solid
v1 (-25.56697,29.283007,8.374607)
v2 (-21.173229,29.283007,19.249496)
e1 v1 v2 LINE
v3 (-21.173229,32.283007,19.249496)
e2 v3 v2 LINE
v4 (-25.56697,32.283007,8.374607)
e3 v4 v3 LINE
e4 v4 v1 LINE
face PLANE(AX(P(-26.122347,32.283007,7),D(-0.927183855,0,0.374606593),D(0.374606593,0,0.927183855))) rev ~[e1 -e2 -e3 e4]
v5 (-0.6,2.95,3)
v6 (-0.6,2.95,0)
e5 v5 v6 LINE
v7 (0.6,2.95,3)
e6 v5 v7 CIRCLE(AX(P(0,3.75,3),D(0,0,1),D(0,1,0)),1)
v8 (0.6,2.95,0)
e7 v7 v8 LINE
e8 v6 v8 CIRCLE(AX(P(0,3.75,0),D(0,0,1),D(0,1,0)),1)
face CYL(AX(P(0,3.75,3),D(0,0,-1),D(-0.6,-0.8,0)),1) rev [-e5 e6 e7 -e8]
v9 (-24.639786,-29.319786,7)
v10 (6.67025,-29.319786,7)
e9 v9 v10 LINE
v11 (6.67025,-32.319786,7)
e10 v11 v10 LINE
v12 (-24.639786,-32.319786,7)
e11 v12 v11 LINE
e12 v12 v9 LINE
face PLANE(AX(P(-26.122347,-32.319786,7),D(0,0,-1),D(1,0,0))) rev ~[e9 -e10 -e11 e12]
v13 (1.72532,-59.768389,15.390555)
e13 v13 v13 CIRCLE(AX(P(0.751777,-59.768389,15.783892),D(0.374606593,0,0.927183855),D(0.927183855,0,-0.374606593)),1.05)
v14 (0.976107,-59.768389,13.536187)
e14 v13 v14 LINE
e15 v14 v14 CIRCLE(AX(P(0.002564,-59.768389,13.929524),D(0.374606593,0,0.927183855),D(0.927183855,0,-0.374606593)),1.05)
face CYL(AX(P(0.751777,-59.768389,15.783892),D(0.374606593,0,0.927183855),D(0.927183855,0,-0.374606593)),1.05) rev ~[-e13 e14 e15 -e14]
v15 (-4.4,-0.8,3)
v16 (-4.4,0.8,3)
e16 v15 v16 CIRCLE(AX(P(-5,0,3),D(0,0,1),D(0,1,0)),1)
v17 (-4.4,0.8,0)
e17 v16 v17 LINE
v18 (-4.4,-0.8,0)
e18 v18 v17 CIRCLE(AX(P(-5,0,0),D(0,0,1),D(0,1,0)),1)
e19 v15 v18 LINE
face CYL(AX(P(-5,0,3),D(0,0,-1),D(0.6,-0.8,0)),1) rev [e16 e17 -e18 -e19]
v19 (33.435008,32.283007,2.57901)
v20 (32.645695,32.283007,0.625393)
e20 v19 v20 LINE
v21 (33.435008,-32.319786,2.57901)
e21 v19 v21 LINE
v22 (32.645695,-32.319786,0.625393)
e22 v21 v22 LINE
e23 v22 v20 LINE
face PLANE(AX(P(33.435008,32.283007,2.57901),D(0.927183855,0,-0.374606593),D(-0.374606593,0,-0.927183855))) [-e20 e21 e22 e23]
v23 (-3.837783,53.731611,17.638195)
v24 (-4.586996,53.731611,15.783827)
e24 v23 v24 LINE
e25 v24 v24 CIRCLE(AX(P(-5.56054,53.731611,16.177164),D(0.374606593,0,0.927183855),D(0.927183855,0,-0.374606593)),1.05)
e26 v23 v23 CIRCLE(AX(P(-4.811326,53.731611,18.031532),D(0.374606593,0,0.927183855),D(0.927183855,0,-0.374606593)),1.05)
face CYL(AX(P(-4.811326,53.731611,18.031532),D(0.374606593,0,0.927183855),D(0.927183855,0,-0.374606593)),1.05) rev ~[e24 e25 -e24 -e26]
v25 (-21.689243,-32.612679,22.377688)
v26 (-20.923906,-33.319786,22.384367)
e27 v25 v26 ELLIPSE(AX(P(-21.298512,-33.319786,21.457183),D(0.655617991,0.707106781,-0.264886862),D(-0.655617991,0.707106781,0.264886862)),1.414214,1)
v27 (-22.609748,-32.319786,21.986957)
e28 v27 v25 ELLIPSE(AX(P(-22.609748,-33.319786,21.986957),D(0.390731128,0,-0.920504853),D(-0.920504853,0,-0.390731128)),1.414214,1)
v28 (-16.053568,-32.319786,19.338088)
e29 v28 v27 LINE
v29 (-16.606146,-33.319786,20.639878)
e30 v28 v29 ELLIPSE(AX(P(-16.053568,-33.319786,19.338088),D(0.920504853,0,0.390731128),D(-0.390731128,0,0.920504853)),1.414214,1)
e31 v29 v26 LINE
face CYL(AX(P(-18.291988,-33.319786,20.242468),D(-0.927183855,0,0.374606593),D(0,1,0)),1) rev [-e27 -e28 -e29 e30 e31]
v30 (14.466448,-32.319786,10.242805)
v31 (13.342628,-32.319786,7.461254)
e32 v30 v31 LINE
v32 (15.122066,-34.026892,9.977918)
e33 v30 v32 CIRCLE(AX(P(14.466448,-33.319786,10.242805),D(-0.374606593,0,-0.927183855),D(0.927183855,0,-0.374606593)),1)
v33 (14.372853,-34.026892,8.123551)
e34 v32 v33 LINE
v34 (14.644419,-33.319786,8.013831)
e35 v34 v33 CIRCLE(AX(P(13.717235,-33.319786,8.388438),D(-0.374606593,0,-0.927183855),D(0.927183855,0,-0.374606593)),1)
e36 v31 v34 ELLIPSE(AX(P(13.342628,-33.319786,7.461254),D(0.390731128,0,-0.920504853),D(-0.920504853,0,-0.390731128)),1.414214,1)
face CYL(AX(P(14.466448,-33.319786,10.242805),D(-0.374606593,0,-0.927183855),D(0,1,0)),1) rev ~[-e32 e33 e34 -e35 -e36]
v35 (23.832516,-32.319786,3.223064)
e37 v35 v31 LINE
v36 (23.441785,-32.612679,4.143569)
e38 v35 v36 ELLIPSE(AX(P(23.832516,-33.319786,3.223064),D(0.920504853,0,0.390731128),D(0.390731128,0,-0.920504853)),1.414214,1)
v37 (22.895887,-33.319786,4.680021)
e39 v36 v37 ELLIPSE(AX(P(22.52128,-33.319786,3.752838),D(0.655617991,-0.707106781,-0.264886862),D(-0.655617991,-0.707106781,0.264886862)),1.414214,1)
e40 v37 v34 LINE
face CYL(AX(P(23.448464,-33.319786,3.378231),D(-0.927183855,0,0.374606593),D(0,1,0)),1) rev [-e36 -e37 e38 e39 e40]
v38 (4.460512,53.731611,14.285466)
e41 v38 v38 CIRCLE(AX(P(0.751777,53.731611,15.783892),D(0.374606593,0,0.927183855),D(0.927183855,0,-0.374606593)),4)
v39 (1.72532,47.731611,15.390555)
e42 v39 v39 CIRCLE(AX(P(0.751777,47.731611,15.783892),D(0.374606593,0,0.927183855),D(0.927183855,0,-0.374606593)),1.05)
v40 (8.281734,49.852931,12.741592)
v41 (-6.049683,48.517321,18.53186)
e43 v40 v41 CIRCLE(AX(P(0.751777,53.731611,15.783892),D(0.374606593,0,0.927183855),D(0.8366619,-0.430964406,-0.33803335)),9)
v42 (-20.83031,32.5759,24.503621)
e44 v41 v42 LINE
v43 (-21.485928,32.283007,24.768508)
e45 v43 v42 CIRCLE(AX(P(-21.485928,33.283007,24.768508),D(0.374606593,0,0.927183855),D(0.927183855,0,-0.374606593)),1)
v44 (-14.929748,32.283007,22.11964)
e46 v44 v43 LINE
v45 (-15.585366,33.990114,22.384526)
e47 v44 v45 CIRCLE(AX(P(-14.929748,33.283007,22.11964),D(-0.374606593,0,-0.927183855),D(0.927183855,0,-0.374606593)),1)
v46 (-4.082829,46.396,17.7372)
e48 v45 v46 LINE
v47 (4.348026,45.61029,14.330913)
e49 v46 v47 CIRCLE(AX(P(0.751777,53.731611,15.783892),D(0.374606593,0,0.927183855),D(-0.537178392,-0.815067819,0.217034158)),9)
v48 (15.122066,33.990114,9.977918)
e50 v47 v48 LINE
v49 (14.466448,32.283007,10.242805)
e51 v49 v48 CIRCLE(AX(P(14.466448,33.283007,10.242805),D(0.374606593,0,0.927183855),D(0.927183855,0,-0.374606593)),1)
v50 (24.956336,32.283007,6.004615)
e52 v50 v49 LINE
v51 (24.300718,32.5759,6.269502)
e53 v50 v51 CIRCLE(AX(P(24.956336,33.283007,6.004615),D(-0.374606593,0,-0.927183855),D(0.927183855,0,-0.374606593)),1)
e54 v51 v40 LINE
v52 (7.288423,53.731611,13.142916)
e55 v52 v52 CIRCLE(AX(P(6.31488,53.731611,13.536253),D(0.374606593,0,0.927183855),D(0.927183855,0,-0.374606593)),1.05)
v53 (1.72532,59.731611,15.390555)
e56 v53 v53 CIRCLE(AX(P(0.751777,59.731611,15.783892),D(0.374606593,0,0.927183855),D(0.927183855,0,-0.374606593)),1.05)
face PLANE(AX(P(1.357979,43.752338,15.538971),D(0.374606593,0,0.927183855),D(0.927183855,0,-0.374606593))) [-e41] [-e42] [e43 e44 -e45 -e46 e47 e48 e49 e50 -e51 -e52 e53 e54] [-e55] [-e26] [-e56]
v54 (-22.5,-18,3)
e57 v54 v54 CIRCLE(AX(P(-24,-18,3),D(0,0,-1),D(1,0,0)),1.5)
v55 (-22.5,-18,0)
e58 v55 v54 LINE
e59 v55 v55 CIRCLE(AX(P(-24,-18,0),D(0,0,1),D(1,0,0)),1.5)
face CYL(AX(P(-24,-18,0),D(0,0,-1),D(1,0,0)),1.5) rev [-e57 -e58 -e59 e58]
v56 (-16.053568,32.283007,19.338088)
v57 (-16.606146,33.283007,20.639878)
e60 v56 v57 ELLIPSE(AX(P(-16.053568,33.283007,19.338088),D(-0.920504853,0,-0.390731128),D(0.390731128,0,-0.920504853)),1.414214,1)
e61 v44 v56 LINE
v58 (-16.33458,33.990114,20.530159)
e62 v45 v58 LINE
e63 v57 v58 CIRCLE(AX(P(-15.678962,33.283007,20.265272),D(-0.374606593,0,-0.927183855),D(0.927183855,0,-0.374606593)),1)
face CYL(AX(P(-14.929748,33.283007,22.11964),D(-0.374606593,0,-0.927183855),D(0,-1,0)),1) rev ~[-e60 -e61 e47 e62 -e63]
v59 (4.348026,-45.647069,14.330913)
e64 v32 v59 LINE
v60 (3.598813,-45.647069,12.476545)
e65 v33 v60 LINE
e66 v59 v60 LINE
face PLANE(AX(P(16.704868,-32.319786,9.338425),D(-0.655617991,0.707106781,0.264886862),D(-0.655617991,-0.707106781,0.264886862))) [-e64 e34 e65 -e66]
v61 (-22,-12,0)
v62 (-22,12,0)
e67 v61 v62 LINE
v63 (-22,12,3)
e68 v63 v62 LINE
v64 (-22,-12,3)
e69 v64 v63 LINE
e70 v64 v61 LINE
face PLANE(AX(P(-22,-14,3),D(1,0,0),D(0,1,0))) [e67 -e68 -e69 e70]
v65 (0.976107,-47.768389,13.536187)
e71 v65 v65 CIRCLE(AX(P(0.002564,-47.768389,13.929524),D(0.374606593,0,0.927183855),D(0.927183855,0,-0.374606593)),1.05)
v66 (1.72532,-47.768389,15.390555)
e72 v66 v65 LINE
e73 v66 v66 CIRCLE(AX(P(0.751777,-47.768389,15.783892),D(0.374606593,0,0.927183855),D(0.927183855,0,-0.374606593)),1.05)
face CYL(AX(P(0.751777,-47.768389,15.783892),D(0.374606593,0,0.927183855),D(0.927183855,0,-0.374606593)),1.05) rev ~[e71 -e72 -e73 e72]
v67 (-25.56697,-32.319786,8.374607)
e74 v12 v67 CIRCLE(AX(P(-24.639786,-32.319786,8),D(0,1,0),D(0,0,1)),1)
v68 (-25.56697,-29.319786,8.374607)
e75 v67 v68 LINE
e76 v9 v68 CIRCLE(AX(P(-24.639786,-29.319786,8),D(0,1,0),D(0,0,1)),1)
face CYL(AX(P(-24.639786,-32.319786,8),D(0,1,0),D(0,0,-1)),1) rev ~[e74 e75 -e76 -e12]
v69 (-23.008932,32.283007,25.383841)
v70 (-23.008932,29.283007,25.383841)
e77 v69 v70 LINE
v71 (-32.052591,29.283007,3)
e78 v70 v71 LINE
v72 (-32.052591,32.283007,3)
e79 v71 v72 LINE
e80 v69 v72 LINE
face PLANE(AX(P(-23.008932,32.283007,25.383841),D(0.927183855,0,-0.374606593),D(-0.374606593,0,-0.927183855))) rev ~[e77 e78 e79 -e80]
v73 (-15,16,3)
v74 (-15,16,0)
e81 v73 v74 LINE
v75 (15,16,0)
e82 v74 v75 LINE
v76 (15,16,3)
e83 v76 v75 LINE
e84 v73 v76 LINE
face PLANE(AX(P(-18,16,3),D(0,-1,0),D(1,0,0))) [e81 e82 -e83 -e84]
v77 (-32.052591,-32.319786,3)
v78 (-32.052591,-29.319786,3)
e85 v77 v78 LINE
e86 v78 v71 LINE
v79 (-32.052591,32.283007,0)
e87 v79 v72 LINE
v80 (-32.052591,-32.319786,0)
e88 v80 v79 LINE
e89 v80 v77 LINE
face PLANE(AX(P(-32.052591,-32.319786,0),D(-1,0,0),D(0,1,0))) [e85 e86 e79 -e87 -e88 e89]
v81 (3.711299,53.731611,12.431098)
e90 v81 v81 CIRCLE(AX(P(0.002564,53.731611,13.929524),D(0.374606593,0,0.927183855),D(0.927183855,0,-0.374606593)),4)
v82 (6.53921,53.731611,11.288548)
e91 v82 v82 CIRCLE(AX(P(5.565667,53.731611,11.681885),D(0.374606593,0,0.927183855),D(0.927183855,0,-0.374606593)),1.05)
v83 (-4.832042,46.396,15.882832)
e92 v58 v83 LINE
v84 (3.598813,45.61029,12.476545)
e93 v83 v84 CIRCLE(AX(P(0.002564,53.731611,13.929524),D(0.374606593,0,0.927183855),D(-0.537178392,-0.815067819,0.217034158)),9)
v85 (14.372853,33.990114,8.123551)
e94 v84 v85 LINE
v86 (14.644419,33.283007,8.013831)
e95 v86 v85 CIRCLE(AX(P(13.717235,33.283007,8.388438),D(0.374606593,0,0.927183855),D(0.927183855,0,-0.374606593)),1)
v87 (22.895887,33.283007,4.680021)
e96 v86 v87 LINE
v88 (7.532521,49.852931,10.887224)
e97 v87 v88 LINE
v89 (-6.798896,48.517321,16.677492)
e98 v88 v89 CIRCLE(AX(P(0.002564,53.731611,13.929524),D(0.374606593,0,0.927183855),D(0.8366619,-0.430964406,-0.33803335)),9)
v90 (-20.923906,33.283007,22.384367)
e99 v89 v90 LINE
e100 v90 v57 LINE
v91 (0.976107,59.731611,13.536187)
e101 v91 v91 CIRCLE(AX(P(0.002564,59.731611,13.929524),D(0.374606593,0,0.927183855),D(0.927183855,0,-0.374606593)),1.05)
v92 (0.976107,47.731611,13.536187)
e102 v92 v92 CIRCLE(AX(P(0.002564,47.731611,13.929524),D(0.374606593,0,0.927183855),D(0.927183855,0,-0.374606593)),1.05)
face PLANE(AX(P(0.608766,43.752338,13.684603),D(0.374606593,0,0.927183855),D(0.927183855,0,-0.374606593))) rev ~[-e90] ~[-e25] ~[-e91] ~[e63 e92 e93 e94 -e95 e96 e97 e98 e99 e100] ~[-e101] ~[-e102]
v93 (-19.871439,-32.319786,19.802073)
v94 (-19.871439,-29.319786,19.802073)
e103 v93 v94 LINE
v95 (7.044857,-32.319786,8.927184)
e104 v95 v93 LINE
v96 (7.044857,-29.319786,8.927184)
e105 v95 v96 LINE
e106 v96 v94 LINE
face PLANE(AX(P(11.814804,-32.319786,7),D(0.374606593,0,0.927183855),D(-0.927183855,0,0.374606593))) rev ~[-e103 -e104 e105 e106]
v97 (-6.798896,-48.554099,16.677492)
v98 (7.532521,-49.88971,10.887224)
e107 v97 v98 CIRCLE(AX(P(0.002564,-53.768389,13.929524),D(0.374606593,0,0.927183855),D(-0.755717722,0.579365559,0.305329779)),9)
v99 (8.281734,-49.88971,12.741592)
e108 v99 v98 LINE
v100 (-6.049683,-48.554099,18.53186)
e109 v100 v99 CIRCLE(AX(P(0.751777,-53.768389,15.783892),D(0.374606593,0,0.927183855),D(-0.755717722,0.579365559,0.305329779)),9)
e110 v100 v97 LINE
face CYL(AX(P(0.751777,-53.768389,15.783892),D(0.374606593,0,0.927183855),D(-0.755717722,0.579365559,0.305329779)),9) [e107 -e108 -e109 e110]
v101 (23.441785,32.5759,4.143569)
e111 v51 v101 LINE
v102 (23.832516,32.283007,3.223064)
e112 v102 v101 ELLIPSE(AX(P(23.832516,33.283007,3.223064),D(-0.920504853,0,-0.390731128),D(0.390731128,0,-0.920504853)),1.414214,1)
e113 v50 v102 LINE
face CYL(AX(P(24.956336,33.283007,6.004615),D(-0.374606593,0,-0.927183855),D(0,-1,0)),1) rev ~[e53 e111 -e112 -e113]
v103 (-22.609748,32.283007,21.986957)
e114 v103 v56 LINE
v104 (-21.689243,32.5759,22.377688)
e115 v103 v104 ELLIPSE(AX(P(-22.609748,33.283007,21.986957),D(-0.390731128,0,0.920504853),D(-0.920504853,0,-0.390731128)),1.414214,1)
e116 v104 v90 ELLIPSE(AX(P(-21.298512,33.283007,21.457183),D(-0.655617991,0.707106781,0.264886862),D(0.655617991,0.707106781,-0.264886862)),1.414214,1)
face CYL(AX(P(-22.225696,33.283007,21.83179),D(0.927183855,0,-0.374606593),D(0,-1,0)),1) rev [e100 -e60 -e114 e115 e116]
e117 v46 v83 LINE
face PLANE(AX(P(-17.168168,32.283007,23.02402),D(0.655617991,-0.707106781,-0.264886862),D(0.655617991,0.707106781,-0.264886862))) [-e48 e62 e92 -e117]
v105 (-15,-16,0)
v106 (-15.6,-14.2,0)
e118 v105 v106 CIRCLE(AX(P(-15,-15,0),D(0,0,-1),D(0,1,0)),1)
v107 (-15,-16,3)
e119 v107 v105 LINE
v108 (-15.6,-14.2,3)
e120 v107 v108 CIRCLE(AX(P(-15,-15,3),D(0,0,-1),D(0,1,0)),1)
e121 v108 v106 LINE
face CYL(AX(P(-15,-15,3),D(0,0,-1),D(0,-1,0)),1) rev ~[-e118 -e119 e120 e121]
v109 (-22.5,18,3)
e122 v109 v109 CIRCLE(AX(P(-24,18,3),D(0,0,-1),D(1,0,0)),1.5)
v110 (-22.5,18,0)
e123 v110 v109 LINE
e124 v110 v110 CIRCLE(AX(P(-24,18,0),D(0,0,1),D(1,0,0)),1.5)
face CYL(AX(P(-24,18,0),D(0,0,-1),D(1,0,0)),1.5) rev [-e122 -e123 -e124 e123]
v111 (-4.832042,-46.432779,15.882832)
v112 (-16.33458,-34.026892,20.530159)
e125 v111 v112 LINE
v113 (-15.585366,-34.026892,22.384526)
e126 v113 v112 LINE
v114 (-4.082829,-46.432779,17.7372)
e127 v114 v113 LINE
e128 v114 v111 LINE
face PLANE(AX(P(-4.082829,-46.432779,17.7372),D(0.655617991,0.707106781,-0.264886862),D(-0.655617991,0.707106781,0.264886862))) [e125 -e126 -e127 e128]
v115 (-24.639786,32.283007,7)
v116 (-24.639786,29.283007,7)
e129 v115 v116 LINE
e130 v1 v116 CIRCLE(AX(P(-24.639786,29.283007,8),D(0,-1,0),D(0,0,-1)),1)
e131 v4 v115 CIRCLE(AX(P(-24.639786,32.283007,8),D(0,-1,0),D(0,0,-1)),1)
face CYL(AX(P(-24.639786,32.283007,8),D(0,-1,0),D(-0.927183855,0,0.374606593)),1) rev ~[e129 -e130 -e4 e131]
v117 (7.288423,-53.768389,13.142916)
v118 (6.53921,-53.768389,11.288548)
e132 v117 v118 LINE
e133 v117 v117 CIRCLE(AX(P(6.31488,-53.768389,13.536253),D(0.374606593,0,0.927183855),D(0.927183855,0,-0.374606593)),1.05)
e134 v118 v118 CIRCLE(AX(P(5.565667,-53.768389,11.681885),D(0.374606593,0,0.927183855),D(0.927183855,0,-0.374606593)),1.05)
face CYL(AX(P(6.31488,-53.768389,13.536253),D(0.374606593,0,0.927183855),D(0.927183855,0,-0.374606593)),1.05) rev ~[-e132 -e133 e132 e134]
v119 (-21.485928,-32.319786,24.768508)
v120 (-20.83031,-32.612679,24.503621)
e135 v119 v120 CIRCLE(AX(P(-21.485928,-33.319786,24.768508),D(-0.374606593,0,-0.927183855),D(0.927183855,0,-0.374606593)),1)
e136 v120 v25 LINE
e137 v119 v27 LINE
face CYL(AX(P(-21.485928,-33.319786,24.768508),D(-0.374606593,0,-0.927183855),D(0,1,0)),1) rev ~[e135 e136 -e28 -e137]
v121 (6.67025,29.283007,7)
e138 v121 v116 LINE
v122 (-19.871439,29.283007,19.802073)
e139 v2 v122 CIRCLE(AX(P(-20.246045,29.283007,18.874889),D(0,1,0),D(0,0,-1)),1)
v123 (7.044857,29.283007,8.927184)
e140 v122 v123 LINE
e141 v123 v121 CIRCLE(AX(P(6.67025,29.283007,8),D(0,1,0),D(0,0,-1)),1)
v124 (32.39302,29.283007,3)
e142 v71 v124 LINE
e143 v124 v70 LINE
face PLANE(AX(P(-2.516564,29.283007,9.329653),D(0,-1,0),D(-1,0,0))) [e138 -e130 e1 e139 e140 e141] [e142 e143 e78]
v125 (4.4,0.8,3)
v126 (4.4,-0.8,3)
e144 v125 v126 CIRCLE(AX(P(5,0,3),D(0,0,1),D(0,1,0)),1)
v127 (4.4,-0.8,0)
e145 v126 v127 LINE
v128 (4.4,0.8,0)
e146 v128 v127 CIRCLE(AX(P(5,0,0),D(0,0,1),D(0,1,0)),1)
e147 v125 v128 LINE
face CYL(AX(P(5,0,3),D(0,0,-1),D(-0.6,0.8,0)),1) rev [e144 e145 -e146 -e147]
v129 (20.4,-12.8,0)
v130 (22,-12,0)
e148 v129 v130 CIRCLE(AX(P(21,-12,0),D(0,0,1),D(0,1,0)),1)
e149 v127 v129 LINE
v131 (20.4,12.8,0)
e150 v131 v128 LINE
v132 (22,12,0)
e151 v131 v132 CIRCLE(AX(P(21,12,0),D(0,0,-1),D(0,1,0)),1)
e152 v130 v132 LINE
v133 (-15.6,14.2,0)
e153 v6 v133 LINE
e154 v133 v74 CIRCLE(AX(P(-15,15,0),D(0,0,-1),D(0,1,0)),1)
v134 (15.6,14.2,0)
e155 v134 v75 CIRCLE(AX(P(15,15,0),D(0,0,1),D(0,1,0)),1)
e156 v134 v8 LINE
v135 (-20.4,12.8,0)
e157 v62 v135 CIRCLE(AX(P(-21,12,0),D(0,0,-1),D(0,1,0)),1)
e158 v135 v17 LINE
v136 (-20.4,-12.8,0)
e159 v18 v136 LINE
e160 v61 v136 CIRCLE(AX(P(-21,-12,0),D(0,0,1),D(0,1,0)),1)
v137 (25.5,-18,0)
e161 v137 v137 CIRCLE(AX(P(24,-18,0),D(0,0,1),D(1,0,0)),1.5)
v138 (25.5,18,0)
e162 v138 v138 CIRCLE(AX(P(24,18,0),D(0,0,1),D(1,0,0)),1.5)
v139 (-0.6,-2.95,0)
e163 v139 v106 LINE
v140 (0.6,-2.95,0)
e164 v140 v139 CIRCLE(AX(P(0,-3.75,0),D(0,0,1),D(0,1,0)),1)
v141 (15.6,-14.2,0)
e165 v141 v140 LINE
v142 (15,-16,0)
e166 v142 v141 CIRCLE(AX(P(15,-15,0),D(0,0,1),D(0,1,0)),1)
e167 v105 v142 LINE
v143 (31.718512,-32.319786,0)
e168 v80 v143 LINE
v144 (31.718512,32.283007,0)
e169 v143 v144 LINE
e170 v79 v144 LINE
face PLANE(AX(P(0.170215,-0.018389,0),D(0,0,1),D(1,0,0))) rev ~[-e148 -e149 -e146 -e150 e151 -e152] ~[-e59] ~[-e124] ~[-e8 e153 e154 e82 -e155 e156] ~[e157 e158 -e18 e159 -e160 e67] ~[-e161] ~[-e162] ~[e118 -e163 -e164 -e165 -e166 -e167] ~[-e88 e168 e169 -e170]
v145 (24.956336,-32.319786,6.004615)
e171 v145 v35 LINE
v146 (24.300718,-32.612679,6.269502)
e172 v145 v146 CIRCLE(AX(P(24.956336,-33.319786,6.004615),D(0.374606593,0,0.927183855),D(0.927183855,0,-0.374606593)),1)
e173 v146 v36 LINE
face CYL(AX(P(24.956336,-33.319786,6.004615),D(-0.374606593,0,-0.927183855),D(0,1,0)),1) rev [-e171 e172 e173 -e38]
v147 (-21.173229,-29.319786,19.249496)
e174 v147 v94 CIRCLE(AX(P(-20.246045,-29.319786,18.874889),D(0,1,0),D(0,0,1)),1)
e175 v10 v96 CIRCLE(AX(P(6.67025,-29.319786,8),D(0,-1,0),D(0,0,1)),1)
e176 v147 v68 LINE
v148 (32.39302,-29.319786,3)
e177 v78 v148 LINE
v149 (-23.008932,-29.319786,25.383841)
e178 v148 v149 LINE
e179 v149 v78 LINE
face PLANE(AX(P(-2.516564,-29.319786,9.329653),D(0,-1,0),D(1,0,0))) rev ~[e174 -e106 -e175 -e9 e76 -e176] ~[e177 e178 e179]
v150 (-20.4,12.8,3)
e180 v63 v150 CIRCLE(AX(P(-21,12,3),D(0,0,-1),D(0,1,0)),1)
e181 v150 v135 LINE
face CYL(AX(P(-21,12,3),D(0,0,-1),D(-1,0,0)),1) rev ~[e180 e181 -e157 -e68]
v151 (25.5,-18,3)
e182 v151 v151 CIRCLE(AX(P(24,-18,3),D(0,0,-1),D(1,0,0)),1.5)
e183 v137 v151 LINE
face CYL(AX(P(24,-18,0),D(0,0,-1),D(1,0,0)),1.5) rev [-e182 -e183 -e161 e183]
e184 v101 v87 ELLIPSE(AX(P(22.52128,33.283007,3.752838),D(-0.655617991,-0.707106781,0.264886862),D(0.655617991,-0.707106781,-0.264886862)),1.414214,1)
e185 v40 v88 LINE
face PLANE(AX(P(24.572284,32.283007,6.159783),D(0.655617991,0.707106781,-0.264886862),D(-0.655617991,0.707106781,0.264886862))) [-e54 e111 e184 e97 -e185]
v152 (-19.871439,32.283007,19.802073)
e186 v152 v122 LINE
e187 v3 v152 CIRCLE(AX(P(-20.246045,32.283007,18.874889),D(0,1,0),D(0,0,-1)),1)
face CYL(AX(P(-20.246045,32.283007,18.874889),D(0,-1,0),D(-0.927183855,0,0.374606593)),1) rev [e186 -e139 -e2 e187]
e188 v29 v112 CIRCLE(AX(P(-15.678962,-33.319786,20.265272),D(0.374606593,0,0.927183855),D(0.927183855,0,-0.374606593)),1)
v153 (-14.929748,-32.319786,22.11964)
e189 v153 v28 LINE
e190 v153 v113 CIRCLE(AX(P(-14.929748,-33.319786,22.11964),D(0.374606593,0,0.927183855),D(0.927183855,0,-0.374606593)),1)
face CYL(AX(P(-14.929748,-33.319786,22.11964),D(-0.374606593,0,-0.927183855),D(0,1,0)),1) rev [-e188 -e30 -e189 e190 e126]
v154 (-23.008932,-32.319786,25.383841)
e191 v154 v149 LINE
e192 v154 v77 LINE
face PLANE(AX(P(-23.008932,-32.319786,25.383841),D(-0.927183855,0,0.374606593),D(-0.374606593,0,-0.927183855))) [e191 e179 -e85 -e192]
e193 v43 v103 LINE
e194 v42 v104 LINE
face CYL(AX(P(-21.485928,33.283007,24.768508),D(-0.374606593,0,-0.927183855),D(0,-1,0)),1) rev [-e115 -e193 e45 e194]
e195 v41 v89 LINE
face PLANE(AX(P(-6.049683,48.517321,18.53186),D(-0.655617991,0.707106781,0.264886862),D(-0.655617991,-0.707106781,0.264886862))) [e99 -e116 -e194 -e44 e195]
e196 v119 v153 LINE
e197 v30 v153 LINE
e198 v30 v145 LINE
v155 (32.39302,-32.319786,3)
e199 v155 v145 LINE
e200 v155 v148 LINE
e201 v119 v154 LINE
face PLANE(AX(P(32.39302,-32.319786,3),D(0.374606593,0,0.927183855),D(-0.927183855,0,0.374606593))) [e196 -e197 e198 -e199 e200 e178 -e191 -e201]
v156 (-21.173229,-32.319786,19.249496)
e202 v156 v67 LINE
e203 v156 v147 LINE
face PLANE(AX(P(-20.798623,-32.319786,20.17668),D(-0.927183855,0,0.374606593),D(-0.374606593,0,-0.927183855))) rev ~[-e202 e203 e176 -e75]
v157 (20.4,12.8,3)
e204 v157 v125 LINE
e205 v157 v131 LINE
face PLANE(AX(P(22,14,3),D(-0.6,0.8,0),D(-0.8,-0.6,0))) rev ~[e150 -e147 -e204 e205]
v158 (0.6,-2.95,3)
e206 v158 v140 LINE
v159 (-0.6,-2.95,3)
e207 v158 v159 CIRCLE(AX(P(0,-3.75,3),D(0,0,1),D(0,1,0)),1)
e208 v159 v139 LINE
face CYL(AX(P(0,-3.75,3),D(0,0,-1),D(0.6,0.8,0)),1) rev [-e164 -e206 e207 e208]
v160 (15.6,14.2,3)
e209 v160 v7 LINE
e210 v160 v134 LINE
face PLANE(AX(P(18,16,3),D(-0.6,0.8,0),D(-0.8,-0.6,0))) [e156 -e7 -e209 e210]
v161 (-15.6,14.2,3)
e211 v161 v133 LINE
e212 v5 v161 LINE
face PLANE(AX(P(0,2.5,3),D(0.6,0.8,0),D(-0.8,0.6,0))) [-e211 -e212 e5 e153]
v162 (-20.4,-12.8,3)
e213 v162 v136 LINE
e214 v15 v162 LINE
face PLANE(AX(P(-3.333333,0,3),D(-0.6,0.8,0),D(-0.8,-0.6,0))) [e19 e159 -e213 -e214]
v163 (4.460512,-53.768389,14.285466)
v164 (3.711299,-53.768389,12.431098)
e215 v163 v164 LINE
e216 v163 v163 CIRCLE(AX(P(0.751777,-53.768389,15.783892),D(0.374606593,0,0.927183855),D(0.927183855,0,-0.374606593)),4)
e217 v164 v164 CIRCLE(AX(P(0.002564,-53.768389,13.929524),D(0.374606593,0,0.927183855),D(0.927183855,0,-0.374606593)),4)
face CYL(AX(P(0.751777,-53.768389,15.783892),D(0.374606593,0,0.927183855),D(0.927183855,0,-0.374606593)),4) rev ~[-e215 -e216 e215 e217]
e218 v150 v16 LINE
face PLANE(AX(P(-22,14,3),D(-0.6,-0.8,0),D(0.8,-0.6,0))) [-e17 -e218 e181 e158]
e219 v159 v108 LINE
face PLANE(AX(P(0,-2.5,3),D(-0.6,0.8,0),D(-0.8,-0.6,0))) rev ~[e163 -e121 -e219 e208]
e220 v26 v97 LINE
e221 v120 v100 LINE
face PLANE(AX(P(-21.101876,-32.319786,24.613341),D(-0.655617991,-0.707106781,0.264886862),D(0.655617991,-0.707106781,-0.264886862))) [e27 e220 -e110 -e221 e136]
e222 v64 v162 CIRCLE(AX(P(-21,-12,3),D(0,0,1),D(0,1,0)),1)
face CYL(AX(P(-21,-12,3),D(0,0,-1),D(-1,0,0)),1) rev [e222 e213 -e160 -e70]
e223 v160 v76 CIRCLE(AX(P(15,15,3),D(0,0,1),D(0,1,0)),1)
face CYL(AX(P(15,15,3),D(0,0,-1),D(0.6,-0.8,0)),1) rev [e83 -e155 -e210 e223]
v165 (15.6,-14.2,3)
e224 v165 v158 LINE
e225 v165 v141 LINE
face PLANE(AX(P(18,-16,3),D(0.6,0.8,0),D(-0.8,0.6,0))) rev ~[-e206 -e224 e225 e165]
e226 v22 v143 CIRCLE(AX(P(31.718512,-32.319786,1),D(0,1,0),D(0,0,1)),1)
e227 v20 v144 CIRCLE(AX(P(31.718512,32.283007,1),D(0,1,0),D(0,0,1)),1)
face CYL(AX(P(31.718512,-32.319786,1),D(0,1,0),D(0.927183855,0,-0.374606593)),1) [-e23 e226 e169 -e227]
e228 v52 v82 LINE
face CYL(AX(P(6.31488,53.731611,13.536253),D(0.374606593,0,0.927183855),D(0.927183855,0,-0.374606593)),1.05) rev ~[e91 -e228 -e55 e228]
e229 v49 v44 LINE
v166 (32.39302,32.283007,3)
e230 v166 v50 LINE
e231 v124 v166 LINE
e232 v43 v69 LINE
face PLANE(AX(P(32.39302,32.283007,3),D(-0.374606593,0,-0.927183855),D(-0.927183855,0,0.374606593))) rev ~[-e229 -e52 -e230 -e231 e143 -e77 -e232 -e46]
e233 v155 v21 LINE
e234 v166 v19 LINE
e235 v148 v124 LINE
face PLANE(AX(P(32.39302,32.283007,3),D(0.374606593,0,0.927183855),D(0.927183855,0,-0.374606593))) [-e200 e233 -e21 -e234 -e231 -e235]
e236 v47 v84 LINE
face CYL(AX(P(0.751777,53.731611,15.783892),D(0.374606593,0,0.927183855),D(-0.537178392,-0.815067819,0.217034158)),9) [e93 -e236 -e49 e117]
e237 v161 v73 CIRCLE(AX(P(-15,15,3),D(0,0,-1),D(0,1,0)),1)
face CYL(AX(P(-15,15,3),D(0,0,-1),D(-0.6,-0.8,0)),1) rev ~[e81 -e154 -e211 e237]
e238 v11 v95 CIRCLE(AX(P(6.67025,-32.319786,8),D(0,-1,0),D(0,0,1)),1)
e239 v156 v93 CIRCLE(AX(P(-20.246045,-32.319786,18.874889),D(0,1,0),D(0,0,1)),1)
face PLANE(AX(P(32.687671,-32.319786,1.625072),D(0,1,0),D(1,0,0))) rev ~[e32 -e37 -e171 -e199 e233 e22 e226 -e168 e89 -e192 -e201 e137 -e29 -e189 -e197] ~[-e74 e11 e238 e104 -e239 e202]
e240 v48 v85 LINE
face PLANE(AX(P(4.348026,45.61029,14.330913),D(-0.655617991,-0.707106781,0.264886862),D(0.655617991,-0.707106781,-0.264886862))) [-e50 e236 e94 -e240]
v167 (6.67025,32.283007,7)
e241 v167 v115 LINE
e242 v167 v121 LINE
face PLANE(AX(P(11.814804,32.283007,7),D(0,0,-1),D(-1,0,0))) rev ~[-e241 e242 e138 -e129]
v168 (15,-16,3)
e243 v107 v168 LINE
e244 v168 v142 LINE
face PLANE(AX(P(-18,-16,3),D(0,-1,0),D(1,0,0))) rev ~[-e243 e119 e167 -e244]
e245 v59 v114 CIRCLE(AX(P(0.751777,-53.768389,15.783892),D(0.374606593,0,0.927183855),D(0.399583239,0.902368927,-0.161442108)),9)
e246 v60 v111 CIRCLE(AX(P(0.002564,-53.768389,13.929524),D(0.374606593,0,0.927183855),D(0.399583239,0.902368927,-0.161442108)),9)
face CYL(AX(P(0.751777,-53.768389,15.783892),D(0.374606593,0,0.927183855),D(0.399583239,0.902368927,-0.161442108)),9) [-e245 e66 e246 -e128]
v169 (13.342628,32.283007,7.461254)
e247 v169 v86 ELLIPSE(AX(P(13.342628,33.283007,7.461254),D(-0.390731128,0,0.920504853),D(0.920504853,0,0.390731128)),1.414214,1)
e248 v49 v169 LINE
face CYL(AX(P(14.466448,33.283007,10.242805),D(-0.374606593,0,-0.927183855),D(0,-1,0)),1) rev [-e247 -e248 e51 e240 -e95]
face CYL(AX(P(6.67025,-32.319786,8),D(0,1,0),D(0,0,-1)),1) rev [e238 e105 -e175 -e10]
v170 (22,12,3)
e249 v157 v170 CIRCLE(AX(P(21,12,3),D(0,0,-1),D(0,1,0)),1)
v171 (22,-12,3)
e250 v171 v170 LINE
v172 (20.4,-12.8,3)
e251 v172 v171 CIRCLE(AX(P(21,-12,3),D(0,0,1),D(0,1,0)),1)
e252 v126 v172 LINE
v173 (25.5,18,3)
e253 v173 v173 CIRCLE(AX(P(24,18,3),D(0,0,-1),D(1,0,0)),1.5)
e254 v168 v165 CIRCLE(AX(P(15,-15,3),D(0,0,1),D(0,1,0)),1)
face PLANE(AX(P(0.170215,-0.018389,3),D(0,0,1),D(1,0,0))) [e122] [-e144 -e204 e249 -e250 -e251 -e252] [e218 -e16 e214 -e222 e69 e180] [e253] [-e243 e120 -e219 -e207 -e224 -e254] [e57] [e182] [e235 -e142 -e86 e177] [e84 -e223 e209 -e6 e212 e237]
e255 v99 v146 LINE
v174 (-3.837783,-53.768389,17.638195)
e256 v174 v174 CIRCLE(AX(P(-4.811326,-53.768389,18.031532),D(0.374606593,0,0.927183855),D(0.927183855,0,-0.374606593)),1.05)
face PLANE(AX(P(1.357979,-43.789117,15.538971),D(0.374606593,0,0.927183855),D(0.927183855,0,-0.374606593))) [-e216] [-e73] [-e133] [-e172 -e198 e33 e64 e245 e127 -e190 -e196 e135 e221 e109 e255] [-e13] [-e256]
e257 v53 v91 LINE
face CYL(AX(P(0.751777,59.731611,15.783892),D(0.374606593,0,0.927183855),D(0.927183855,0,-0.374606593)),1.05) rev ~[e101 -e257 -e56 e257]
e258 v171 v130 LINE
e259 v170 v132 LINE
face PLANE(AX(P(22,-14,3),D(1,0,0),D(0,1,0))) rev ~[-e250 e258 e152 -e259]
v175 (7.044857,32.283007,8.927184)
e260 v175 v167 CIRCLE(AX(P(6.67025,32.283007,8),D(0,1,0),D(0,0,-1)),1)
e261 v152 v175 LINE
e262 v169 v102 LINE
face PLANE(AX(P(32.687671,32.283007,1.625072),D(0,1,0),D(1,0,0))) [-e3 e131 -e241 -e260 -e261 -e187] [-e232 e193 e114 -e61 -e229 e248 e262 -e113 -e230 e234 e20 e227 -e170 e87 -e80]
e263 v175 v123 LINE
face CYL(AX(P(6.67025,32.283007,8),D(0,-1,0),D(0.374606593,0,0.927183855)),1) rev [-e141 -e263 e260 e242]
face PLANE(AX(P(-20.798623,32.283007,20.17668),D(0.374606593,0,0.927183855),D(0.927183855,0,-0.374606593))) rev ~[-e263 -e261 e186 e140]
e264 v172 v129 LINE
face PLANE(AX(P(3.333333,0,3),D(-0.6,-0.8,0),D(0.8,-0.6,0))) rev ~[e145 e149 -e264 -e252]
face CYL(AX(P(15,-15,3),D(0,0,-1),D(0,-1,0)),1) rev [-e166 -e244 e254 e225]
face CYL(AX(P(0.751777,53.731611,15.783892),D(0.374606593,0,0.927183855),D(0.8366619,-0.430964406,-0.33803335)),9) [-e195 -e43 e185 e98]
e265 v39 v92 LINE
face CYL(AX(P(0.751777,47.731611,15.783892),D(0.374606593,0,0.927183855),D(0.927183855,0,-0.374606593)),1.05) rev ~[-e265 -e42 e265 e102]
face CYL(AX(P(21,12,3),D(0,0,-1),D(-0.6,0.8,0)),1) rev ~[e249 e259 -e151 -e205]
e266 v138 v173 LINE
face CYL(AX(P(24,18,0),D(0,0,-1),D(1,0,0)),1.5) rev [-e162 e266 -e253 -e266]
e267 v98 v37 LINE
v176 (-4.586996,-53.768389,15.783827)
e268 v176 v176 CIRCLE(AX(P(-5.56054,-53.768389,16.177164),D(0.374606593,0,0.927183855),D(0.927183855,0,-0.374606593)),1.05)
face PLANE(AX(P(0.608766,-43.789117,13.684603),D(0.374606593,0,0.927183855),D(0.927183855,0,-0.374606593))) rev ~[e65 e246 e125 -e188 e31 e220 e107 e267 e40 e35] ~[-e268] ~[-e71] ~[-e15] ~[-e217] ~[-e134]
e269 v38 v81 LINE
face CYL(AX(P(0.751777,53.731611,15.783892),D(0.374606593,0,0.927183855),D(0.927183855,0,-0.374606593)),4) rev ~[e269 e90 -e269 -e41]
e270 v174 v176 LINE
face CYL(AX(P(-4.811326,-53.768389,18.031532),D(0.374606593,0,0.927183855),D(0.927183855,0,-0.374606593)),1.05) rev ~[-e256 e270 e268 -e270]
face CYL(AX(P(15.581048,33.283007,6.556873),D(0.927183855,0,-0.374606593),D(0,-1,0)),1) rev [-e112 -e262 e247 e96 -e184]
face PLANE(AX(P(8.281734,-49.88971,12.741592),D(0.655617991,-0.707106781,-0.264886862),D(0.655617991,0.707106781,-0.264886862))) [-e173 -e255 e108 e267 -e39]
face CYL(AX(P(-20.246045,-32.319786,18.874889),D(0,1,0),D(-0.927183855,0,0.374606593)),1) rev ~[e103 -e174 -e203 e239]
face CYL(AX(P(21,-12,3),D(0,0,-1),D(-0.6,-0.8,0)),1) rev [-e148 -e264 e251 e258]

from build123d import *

# Parameters (mm, degrees)
SKETCH_2_W          = 64.445610825
SKETCH_2_H          = 64.602792554
EXTRUDE_2_DEPTH     = 3
SKETCH_3_R          = 1.5
CUT_EXTRUDE_1_DEPTH = 4
EXTRUDE_3_DEPTH     = 3
EXTRUDE_4_DEPTH     = 3
EXTRUDE_6_DEPTH     = 64.602792554
SKETCH_11_R         = 1.05
SKETCH_11_R_2       = 4
EXTRUDE_7_DEPTH     = 2
FILLET_1_R          = 1
FILLET_2_R          = 1
FILLET_3_R          = 1
CUT_EXTRUDE_3_DEPTH = 75.557406075
FILLET_5_R          = 1


with BuildPart() as part:
    # 草图2 → 凸台-拉伸2 (new body)
    with BuildSketch(Plane.XY):
        with Locations((0.170214688, -0.018389364)):
            Rectangle(SKETCH_2_W, SKETCH_2_H)
    extrude(amount=EXTRUDE_2_DEPTH)

    # 草图3 → 切除-拉伸1 (cut)
    with BuildSketch(Plane.XY):
        with Locations((24, -18)):
            Circle(SKETCH_3_R)
        with Locations((-24, -18)):
            Circle(SKETCH_3_R)
        with Locations((-24, 18)):
            Circle(SKETCH_3_R)
        with Locations((24, 18)):
            Circle(SKETCH_3_R)
    extrude(amount=CUT_EXTRUDE_1_DEPTH, mode=Mode.SUBTRACT)

    # 草图9 → 凸台-拉伸3 (add)
    with BuildSketch(Plane(origin=(0, 32.283006913, 0), x_dir=(1, 0, 0), z_dir=(0, 1, 0))):
        Polygon((-32.052590724, -3), (32.393020101, -3), (-23.008931723, -25.383841499), align=None)
        Polygon((-20.798622679, -20.176679707), (11.814804037, -7), (-26.12234685, -7), align=None, mode=Mode.SUBTRACT)
    extrude(amount=-EXTRUDE_3_DEPTH)

    # 草图10 → 凸台-拉伸4 (add)
    with BuildSketch(Plane.XZ.offset(32.319785641)):
        Polygon((-23.008931723, 25.383841499), (-32.052590724, 3), (32.393020101, 3), align=None)
        Polygon((11.814804037, 7), (-20.798622679, 20.176679707), (-26.12234685, 7), align=None, mode=Mode.SUBTRACT)
    extrude(amount=-EXTRUDE_4_DEPTH)

    # 草图13 → 凸台-拉伸6 (add)
    with BuildSketch(Plane(origin=(0, 32.283006913, 0), x_dir=(1, 0, 0), z_dir=(0, 1, 0))):
        Polygon((32.393020101, -3), (33.435007656, -2.579009701), (32.393020101, 0), align=None)
    extrude(amount=-EXTRUDE_6_DEPTH)

    # 草图11 → 凸台-拉伸7 (add)
    # profile 1 of 2: a face of its own
    with BuildSketch(Plane(origin=(5.5877033, 0, 13.830050979), x_dir=(0.9271838545667869, 0, -0.37460659341591335), z_dir=(0.37460659341591335, 0, 0.9271838545667869))):
        with BuildLine():
            Line((-1.337035106, 45.610290293), (11.990248274, 32.283006913))
            Line((11.990248274, 32.283006913), (20.475529648, 32.283006913))
            Line((20.475529648, 32.283006913), (2.905605582, 49.85293098))
            ThreePointArc((2.905605582, 49.85293098), (-5.990504286, 62.698198683), (-12.551325133, 48.517320609))
            Line((-12.551325133, 48.517320609), (-28.785638829, 32.283006913))
            Line((-28.785638829, 32.283006913), (-24.542998142, 32.283006913))
            Line((-24.542998142, 32.283006913), (-10.430004789, 46.396000265))
            ThreePointArc((-10.430004789, 46.396000265), (-5.990504286, 44.76502259), (-1.337035106, 45.610290293))
        make_face()
        with Locations((0.784285238, 53.731610636)):
            Circle(SKETCH_11_R, mode=Mode.SUBTRACT)
        with Locations((-11.215714762, 53.731610636)):
            Circle(SKETCH_11_R, mode=Mode.SUBTRACT)
        with Locations((-5.215714762, 47.731610636)):
            Circle(SKETCH_11_R, mode=Mode.SUBTRACT)
        with Locations((-5.215714762, 53.731610636)):
            Circle(SKETCH_11_R_2, mode=Mode.SUBTRACT)
        with Locations((-5.215714762, 59.731610636)):
            Circle(SKETCH_11_R, mode=Mode.SUBTRACT)
    # profile 2 of 2: a face of its own
    with BuildSketch(Plane(origin=(5.5877033, 0, 13.830050979), x_dir=(0.9271838545667869, 0, -0.37460659341591335), z_dir=(0.37460659341591335, 0, 0.9271838545667869))):
        with BuildLine():
            Line((11.990248274, -32.319785641), (-1.337035106, -45.64706902))
            ThreePointArc((-1.337035106, -45.64706902), (-5.990504286, -44.801801317), (-10.430004789, -46.432778993))
            Line((-10.430004789, -46.432778993), (-24.542998142, -32.319785641))
            Line((-24.542998142, -32.319785641), (-28.785638829, -32.319785641))
            Line((-28.785638829, -32.319785641), (-12.551325133, -48.554099337))
            ThreePointArc((-12.551325133, -48.554099337), (-5.990504286, -62.73497741), (2.905605582, -49.889709707))
            Line((2.905605582, -49.889709707), (20.475529648, -32.319785641))
            Line((20.475529648, -32.319785641), (11.990248274, -32.319785641))
        make_face()
        with Locations((0.784285238, -53.768389364)):
            Circle(SKETCH_11_R, mode=Mode.SUBTRACT)
        with Locations((-11.215714762, -53.768389364)):
            Circle(SKETCH_11_R, mode=Mode.SUBTRACT)
        with Locations((-5.215714762, -59.768389364)):
            Circle(SKETCH_11_R, mode=Mode.SUBTRACT)
        with Locations((-5.215714762, -53.768389364)):
            Circle(SKETCH_11_R_2, mode=Mode.SUBTRACT)
        with Locations((-5.215714762, -47.768389364)):
            Circle(SKETCH_11_R, mode=Mode.SUBTRACT)
    extrude(amount=-EXTRUDE_7_DEPTH)

    # 圆角1
    fillet_1_edges = [part.edges().sort_by_distance(p)[0] for p in [
        (32.393020101, -0.018389364, 0),
    ]]
    fillet(fillet_1_edges, radius=FILLET_1_R)

    # 圆角2
    fillet_2_edges = [part.edges().sort_by_distance(p)[0] for p in [
        (16.330261319, -32.319785641, 8.411241064),
        (24.19767721, -32.319785641, 5.232598715),
        (-21.476482859, -32.319785641, 23.686157226),
        (-17.542774913, -32.319785641, 22.096836051),
        (19.889362671, -32.319785641, 5.894736035),
        (-19.884235479, -32.319785641, 21.964312784),
        (24.19767721, 32.283006913, 5.232598715),
        (16.330261319, 32.283006913, 8.411241064),
        (-17.542774913, 32.283006913, 22.096836051),
        (-21.476482859, 32.283006913, 23.686157226),
        (19.889362671, 32.283006913, 5.894736035),
        (-19.884235479, 32.283006913, 21.964312784),
    ]]
    fillet(fillet_2_edges, radius=FILLET_2_R)

    # 圆角3
    fillet_3_edges = [part.edges().sort_by_distance(p)[0] for p in [
        (-26.12234685, 30.783006913, 7),
        (11.814804037, 30.783006913, 7),
        (-20.798622679, 30.783006913, 20.176679707),
        (-26.12234685, -30.819785641, 7),
        (-20.798622679, -30.819785641, 20.176679707),
        (11.814804037, -30.819785641, 7),
    ]]
    fillet(fillet_3_edges, radius=FILLET_3_R)

    # 草图15 → 切除-拉伸3 (cut, through all)
    with BuildSketch(Plane.XY.offset(3)):
        Polygon((-18, 16), (18, 16), (0, 2.5), align=None)
        Polygon((-22, 14), (-3.333333333, 0), (-22, -14), align=None)
        Polygon((-18, -16), (18, -16), (0, -2.5), align=None)
        Polygon((22, 14), (3.333333333, 0), (22, -14), align=None)
    extrude(amount=-CUT_EXTRUDE_3_DEPTH, mode=Mode.SUBTRACT)

    # 圆角5
    fillet_5_edges = [part.edges().sort_by_distance(p)[0] for p in [
        (-18, -16, 1.5),
        (0, -2.5, 1.5),
        (18, -16, 1.5),
        (-22, -14, 1.5),
        (-22, 14, 1.5),
        (-3.333333333, 0, 1.5),
        (22, 14, 1.5),
        (22, -14, 1.5),
        (3.333333333, 0, 1.5),
        (0, 2.5, 1.5),
        (-18, 16, 1.5),
        (18, 16, 1.5),
    ]]
    fillet(fillet_5_edges, radius=FILLET_5_R)


solid = part.part
